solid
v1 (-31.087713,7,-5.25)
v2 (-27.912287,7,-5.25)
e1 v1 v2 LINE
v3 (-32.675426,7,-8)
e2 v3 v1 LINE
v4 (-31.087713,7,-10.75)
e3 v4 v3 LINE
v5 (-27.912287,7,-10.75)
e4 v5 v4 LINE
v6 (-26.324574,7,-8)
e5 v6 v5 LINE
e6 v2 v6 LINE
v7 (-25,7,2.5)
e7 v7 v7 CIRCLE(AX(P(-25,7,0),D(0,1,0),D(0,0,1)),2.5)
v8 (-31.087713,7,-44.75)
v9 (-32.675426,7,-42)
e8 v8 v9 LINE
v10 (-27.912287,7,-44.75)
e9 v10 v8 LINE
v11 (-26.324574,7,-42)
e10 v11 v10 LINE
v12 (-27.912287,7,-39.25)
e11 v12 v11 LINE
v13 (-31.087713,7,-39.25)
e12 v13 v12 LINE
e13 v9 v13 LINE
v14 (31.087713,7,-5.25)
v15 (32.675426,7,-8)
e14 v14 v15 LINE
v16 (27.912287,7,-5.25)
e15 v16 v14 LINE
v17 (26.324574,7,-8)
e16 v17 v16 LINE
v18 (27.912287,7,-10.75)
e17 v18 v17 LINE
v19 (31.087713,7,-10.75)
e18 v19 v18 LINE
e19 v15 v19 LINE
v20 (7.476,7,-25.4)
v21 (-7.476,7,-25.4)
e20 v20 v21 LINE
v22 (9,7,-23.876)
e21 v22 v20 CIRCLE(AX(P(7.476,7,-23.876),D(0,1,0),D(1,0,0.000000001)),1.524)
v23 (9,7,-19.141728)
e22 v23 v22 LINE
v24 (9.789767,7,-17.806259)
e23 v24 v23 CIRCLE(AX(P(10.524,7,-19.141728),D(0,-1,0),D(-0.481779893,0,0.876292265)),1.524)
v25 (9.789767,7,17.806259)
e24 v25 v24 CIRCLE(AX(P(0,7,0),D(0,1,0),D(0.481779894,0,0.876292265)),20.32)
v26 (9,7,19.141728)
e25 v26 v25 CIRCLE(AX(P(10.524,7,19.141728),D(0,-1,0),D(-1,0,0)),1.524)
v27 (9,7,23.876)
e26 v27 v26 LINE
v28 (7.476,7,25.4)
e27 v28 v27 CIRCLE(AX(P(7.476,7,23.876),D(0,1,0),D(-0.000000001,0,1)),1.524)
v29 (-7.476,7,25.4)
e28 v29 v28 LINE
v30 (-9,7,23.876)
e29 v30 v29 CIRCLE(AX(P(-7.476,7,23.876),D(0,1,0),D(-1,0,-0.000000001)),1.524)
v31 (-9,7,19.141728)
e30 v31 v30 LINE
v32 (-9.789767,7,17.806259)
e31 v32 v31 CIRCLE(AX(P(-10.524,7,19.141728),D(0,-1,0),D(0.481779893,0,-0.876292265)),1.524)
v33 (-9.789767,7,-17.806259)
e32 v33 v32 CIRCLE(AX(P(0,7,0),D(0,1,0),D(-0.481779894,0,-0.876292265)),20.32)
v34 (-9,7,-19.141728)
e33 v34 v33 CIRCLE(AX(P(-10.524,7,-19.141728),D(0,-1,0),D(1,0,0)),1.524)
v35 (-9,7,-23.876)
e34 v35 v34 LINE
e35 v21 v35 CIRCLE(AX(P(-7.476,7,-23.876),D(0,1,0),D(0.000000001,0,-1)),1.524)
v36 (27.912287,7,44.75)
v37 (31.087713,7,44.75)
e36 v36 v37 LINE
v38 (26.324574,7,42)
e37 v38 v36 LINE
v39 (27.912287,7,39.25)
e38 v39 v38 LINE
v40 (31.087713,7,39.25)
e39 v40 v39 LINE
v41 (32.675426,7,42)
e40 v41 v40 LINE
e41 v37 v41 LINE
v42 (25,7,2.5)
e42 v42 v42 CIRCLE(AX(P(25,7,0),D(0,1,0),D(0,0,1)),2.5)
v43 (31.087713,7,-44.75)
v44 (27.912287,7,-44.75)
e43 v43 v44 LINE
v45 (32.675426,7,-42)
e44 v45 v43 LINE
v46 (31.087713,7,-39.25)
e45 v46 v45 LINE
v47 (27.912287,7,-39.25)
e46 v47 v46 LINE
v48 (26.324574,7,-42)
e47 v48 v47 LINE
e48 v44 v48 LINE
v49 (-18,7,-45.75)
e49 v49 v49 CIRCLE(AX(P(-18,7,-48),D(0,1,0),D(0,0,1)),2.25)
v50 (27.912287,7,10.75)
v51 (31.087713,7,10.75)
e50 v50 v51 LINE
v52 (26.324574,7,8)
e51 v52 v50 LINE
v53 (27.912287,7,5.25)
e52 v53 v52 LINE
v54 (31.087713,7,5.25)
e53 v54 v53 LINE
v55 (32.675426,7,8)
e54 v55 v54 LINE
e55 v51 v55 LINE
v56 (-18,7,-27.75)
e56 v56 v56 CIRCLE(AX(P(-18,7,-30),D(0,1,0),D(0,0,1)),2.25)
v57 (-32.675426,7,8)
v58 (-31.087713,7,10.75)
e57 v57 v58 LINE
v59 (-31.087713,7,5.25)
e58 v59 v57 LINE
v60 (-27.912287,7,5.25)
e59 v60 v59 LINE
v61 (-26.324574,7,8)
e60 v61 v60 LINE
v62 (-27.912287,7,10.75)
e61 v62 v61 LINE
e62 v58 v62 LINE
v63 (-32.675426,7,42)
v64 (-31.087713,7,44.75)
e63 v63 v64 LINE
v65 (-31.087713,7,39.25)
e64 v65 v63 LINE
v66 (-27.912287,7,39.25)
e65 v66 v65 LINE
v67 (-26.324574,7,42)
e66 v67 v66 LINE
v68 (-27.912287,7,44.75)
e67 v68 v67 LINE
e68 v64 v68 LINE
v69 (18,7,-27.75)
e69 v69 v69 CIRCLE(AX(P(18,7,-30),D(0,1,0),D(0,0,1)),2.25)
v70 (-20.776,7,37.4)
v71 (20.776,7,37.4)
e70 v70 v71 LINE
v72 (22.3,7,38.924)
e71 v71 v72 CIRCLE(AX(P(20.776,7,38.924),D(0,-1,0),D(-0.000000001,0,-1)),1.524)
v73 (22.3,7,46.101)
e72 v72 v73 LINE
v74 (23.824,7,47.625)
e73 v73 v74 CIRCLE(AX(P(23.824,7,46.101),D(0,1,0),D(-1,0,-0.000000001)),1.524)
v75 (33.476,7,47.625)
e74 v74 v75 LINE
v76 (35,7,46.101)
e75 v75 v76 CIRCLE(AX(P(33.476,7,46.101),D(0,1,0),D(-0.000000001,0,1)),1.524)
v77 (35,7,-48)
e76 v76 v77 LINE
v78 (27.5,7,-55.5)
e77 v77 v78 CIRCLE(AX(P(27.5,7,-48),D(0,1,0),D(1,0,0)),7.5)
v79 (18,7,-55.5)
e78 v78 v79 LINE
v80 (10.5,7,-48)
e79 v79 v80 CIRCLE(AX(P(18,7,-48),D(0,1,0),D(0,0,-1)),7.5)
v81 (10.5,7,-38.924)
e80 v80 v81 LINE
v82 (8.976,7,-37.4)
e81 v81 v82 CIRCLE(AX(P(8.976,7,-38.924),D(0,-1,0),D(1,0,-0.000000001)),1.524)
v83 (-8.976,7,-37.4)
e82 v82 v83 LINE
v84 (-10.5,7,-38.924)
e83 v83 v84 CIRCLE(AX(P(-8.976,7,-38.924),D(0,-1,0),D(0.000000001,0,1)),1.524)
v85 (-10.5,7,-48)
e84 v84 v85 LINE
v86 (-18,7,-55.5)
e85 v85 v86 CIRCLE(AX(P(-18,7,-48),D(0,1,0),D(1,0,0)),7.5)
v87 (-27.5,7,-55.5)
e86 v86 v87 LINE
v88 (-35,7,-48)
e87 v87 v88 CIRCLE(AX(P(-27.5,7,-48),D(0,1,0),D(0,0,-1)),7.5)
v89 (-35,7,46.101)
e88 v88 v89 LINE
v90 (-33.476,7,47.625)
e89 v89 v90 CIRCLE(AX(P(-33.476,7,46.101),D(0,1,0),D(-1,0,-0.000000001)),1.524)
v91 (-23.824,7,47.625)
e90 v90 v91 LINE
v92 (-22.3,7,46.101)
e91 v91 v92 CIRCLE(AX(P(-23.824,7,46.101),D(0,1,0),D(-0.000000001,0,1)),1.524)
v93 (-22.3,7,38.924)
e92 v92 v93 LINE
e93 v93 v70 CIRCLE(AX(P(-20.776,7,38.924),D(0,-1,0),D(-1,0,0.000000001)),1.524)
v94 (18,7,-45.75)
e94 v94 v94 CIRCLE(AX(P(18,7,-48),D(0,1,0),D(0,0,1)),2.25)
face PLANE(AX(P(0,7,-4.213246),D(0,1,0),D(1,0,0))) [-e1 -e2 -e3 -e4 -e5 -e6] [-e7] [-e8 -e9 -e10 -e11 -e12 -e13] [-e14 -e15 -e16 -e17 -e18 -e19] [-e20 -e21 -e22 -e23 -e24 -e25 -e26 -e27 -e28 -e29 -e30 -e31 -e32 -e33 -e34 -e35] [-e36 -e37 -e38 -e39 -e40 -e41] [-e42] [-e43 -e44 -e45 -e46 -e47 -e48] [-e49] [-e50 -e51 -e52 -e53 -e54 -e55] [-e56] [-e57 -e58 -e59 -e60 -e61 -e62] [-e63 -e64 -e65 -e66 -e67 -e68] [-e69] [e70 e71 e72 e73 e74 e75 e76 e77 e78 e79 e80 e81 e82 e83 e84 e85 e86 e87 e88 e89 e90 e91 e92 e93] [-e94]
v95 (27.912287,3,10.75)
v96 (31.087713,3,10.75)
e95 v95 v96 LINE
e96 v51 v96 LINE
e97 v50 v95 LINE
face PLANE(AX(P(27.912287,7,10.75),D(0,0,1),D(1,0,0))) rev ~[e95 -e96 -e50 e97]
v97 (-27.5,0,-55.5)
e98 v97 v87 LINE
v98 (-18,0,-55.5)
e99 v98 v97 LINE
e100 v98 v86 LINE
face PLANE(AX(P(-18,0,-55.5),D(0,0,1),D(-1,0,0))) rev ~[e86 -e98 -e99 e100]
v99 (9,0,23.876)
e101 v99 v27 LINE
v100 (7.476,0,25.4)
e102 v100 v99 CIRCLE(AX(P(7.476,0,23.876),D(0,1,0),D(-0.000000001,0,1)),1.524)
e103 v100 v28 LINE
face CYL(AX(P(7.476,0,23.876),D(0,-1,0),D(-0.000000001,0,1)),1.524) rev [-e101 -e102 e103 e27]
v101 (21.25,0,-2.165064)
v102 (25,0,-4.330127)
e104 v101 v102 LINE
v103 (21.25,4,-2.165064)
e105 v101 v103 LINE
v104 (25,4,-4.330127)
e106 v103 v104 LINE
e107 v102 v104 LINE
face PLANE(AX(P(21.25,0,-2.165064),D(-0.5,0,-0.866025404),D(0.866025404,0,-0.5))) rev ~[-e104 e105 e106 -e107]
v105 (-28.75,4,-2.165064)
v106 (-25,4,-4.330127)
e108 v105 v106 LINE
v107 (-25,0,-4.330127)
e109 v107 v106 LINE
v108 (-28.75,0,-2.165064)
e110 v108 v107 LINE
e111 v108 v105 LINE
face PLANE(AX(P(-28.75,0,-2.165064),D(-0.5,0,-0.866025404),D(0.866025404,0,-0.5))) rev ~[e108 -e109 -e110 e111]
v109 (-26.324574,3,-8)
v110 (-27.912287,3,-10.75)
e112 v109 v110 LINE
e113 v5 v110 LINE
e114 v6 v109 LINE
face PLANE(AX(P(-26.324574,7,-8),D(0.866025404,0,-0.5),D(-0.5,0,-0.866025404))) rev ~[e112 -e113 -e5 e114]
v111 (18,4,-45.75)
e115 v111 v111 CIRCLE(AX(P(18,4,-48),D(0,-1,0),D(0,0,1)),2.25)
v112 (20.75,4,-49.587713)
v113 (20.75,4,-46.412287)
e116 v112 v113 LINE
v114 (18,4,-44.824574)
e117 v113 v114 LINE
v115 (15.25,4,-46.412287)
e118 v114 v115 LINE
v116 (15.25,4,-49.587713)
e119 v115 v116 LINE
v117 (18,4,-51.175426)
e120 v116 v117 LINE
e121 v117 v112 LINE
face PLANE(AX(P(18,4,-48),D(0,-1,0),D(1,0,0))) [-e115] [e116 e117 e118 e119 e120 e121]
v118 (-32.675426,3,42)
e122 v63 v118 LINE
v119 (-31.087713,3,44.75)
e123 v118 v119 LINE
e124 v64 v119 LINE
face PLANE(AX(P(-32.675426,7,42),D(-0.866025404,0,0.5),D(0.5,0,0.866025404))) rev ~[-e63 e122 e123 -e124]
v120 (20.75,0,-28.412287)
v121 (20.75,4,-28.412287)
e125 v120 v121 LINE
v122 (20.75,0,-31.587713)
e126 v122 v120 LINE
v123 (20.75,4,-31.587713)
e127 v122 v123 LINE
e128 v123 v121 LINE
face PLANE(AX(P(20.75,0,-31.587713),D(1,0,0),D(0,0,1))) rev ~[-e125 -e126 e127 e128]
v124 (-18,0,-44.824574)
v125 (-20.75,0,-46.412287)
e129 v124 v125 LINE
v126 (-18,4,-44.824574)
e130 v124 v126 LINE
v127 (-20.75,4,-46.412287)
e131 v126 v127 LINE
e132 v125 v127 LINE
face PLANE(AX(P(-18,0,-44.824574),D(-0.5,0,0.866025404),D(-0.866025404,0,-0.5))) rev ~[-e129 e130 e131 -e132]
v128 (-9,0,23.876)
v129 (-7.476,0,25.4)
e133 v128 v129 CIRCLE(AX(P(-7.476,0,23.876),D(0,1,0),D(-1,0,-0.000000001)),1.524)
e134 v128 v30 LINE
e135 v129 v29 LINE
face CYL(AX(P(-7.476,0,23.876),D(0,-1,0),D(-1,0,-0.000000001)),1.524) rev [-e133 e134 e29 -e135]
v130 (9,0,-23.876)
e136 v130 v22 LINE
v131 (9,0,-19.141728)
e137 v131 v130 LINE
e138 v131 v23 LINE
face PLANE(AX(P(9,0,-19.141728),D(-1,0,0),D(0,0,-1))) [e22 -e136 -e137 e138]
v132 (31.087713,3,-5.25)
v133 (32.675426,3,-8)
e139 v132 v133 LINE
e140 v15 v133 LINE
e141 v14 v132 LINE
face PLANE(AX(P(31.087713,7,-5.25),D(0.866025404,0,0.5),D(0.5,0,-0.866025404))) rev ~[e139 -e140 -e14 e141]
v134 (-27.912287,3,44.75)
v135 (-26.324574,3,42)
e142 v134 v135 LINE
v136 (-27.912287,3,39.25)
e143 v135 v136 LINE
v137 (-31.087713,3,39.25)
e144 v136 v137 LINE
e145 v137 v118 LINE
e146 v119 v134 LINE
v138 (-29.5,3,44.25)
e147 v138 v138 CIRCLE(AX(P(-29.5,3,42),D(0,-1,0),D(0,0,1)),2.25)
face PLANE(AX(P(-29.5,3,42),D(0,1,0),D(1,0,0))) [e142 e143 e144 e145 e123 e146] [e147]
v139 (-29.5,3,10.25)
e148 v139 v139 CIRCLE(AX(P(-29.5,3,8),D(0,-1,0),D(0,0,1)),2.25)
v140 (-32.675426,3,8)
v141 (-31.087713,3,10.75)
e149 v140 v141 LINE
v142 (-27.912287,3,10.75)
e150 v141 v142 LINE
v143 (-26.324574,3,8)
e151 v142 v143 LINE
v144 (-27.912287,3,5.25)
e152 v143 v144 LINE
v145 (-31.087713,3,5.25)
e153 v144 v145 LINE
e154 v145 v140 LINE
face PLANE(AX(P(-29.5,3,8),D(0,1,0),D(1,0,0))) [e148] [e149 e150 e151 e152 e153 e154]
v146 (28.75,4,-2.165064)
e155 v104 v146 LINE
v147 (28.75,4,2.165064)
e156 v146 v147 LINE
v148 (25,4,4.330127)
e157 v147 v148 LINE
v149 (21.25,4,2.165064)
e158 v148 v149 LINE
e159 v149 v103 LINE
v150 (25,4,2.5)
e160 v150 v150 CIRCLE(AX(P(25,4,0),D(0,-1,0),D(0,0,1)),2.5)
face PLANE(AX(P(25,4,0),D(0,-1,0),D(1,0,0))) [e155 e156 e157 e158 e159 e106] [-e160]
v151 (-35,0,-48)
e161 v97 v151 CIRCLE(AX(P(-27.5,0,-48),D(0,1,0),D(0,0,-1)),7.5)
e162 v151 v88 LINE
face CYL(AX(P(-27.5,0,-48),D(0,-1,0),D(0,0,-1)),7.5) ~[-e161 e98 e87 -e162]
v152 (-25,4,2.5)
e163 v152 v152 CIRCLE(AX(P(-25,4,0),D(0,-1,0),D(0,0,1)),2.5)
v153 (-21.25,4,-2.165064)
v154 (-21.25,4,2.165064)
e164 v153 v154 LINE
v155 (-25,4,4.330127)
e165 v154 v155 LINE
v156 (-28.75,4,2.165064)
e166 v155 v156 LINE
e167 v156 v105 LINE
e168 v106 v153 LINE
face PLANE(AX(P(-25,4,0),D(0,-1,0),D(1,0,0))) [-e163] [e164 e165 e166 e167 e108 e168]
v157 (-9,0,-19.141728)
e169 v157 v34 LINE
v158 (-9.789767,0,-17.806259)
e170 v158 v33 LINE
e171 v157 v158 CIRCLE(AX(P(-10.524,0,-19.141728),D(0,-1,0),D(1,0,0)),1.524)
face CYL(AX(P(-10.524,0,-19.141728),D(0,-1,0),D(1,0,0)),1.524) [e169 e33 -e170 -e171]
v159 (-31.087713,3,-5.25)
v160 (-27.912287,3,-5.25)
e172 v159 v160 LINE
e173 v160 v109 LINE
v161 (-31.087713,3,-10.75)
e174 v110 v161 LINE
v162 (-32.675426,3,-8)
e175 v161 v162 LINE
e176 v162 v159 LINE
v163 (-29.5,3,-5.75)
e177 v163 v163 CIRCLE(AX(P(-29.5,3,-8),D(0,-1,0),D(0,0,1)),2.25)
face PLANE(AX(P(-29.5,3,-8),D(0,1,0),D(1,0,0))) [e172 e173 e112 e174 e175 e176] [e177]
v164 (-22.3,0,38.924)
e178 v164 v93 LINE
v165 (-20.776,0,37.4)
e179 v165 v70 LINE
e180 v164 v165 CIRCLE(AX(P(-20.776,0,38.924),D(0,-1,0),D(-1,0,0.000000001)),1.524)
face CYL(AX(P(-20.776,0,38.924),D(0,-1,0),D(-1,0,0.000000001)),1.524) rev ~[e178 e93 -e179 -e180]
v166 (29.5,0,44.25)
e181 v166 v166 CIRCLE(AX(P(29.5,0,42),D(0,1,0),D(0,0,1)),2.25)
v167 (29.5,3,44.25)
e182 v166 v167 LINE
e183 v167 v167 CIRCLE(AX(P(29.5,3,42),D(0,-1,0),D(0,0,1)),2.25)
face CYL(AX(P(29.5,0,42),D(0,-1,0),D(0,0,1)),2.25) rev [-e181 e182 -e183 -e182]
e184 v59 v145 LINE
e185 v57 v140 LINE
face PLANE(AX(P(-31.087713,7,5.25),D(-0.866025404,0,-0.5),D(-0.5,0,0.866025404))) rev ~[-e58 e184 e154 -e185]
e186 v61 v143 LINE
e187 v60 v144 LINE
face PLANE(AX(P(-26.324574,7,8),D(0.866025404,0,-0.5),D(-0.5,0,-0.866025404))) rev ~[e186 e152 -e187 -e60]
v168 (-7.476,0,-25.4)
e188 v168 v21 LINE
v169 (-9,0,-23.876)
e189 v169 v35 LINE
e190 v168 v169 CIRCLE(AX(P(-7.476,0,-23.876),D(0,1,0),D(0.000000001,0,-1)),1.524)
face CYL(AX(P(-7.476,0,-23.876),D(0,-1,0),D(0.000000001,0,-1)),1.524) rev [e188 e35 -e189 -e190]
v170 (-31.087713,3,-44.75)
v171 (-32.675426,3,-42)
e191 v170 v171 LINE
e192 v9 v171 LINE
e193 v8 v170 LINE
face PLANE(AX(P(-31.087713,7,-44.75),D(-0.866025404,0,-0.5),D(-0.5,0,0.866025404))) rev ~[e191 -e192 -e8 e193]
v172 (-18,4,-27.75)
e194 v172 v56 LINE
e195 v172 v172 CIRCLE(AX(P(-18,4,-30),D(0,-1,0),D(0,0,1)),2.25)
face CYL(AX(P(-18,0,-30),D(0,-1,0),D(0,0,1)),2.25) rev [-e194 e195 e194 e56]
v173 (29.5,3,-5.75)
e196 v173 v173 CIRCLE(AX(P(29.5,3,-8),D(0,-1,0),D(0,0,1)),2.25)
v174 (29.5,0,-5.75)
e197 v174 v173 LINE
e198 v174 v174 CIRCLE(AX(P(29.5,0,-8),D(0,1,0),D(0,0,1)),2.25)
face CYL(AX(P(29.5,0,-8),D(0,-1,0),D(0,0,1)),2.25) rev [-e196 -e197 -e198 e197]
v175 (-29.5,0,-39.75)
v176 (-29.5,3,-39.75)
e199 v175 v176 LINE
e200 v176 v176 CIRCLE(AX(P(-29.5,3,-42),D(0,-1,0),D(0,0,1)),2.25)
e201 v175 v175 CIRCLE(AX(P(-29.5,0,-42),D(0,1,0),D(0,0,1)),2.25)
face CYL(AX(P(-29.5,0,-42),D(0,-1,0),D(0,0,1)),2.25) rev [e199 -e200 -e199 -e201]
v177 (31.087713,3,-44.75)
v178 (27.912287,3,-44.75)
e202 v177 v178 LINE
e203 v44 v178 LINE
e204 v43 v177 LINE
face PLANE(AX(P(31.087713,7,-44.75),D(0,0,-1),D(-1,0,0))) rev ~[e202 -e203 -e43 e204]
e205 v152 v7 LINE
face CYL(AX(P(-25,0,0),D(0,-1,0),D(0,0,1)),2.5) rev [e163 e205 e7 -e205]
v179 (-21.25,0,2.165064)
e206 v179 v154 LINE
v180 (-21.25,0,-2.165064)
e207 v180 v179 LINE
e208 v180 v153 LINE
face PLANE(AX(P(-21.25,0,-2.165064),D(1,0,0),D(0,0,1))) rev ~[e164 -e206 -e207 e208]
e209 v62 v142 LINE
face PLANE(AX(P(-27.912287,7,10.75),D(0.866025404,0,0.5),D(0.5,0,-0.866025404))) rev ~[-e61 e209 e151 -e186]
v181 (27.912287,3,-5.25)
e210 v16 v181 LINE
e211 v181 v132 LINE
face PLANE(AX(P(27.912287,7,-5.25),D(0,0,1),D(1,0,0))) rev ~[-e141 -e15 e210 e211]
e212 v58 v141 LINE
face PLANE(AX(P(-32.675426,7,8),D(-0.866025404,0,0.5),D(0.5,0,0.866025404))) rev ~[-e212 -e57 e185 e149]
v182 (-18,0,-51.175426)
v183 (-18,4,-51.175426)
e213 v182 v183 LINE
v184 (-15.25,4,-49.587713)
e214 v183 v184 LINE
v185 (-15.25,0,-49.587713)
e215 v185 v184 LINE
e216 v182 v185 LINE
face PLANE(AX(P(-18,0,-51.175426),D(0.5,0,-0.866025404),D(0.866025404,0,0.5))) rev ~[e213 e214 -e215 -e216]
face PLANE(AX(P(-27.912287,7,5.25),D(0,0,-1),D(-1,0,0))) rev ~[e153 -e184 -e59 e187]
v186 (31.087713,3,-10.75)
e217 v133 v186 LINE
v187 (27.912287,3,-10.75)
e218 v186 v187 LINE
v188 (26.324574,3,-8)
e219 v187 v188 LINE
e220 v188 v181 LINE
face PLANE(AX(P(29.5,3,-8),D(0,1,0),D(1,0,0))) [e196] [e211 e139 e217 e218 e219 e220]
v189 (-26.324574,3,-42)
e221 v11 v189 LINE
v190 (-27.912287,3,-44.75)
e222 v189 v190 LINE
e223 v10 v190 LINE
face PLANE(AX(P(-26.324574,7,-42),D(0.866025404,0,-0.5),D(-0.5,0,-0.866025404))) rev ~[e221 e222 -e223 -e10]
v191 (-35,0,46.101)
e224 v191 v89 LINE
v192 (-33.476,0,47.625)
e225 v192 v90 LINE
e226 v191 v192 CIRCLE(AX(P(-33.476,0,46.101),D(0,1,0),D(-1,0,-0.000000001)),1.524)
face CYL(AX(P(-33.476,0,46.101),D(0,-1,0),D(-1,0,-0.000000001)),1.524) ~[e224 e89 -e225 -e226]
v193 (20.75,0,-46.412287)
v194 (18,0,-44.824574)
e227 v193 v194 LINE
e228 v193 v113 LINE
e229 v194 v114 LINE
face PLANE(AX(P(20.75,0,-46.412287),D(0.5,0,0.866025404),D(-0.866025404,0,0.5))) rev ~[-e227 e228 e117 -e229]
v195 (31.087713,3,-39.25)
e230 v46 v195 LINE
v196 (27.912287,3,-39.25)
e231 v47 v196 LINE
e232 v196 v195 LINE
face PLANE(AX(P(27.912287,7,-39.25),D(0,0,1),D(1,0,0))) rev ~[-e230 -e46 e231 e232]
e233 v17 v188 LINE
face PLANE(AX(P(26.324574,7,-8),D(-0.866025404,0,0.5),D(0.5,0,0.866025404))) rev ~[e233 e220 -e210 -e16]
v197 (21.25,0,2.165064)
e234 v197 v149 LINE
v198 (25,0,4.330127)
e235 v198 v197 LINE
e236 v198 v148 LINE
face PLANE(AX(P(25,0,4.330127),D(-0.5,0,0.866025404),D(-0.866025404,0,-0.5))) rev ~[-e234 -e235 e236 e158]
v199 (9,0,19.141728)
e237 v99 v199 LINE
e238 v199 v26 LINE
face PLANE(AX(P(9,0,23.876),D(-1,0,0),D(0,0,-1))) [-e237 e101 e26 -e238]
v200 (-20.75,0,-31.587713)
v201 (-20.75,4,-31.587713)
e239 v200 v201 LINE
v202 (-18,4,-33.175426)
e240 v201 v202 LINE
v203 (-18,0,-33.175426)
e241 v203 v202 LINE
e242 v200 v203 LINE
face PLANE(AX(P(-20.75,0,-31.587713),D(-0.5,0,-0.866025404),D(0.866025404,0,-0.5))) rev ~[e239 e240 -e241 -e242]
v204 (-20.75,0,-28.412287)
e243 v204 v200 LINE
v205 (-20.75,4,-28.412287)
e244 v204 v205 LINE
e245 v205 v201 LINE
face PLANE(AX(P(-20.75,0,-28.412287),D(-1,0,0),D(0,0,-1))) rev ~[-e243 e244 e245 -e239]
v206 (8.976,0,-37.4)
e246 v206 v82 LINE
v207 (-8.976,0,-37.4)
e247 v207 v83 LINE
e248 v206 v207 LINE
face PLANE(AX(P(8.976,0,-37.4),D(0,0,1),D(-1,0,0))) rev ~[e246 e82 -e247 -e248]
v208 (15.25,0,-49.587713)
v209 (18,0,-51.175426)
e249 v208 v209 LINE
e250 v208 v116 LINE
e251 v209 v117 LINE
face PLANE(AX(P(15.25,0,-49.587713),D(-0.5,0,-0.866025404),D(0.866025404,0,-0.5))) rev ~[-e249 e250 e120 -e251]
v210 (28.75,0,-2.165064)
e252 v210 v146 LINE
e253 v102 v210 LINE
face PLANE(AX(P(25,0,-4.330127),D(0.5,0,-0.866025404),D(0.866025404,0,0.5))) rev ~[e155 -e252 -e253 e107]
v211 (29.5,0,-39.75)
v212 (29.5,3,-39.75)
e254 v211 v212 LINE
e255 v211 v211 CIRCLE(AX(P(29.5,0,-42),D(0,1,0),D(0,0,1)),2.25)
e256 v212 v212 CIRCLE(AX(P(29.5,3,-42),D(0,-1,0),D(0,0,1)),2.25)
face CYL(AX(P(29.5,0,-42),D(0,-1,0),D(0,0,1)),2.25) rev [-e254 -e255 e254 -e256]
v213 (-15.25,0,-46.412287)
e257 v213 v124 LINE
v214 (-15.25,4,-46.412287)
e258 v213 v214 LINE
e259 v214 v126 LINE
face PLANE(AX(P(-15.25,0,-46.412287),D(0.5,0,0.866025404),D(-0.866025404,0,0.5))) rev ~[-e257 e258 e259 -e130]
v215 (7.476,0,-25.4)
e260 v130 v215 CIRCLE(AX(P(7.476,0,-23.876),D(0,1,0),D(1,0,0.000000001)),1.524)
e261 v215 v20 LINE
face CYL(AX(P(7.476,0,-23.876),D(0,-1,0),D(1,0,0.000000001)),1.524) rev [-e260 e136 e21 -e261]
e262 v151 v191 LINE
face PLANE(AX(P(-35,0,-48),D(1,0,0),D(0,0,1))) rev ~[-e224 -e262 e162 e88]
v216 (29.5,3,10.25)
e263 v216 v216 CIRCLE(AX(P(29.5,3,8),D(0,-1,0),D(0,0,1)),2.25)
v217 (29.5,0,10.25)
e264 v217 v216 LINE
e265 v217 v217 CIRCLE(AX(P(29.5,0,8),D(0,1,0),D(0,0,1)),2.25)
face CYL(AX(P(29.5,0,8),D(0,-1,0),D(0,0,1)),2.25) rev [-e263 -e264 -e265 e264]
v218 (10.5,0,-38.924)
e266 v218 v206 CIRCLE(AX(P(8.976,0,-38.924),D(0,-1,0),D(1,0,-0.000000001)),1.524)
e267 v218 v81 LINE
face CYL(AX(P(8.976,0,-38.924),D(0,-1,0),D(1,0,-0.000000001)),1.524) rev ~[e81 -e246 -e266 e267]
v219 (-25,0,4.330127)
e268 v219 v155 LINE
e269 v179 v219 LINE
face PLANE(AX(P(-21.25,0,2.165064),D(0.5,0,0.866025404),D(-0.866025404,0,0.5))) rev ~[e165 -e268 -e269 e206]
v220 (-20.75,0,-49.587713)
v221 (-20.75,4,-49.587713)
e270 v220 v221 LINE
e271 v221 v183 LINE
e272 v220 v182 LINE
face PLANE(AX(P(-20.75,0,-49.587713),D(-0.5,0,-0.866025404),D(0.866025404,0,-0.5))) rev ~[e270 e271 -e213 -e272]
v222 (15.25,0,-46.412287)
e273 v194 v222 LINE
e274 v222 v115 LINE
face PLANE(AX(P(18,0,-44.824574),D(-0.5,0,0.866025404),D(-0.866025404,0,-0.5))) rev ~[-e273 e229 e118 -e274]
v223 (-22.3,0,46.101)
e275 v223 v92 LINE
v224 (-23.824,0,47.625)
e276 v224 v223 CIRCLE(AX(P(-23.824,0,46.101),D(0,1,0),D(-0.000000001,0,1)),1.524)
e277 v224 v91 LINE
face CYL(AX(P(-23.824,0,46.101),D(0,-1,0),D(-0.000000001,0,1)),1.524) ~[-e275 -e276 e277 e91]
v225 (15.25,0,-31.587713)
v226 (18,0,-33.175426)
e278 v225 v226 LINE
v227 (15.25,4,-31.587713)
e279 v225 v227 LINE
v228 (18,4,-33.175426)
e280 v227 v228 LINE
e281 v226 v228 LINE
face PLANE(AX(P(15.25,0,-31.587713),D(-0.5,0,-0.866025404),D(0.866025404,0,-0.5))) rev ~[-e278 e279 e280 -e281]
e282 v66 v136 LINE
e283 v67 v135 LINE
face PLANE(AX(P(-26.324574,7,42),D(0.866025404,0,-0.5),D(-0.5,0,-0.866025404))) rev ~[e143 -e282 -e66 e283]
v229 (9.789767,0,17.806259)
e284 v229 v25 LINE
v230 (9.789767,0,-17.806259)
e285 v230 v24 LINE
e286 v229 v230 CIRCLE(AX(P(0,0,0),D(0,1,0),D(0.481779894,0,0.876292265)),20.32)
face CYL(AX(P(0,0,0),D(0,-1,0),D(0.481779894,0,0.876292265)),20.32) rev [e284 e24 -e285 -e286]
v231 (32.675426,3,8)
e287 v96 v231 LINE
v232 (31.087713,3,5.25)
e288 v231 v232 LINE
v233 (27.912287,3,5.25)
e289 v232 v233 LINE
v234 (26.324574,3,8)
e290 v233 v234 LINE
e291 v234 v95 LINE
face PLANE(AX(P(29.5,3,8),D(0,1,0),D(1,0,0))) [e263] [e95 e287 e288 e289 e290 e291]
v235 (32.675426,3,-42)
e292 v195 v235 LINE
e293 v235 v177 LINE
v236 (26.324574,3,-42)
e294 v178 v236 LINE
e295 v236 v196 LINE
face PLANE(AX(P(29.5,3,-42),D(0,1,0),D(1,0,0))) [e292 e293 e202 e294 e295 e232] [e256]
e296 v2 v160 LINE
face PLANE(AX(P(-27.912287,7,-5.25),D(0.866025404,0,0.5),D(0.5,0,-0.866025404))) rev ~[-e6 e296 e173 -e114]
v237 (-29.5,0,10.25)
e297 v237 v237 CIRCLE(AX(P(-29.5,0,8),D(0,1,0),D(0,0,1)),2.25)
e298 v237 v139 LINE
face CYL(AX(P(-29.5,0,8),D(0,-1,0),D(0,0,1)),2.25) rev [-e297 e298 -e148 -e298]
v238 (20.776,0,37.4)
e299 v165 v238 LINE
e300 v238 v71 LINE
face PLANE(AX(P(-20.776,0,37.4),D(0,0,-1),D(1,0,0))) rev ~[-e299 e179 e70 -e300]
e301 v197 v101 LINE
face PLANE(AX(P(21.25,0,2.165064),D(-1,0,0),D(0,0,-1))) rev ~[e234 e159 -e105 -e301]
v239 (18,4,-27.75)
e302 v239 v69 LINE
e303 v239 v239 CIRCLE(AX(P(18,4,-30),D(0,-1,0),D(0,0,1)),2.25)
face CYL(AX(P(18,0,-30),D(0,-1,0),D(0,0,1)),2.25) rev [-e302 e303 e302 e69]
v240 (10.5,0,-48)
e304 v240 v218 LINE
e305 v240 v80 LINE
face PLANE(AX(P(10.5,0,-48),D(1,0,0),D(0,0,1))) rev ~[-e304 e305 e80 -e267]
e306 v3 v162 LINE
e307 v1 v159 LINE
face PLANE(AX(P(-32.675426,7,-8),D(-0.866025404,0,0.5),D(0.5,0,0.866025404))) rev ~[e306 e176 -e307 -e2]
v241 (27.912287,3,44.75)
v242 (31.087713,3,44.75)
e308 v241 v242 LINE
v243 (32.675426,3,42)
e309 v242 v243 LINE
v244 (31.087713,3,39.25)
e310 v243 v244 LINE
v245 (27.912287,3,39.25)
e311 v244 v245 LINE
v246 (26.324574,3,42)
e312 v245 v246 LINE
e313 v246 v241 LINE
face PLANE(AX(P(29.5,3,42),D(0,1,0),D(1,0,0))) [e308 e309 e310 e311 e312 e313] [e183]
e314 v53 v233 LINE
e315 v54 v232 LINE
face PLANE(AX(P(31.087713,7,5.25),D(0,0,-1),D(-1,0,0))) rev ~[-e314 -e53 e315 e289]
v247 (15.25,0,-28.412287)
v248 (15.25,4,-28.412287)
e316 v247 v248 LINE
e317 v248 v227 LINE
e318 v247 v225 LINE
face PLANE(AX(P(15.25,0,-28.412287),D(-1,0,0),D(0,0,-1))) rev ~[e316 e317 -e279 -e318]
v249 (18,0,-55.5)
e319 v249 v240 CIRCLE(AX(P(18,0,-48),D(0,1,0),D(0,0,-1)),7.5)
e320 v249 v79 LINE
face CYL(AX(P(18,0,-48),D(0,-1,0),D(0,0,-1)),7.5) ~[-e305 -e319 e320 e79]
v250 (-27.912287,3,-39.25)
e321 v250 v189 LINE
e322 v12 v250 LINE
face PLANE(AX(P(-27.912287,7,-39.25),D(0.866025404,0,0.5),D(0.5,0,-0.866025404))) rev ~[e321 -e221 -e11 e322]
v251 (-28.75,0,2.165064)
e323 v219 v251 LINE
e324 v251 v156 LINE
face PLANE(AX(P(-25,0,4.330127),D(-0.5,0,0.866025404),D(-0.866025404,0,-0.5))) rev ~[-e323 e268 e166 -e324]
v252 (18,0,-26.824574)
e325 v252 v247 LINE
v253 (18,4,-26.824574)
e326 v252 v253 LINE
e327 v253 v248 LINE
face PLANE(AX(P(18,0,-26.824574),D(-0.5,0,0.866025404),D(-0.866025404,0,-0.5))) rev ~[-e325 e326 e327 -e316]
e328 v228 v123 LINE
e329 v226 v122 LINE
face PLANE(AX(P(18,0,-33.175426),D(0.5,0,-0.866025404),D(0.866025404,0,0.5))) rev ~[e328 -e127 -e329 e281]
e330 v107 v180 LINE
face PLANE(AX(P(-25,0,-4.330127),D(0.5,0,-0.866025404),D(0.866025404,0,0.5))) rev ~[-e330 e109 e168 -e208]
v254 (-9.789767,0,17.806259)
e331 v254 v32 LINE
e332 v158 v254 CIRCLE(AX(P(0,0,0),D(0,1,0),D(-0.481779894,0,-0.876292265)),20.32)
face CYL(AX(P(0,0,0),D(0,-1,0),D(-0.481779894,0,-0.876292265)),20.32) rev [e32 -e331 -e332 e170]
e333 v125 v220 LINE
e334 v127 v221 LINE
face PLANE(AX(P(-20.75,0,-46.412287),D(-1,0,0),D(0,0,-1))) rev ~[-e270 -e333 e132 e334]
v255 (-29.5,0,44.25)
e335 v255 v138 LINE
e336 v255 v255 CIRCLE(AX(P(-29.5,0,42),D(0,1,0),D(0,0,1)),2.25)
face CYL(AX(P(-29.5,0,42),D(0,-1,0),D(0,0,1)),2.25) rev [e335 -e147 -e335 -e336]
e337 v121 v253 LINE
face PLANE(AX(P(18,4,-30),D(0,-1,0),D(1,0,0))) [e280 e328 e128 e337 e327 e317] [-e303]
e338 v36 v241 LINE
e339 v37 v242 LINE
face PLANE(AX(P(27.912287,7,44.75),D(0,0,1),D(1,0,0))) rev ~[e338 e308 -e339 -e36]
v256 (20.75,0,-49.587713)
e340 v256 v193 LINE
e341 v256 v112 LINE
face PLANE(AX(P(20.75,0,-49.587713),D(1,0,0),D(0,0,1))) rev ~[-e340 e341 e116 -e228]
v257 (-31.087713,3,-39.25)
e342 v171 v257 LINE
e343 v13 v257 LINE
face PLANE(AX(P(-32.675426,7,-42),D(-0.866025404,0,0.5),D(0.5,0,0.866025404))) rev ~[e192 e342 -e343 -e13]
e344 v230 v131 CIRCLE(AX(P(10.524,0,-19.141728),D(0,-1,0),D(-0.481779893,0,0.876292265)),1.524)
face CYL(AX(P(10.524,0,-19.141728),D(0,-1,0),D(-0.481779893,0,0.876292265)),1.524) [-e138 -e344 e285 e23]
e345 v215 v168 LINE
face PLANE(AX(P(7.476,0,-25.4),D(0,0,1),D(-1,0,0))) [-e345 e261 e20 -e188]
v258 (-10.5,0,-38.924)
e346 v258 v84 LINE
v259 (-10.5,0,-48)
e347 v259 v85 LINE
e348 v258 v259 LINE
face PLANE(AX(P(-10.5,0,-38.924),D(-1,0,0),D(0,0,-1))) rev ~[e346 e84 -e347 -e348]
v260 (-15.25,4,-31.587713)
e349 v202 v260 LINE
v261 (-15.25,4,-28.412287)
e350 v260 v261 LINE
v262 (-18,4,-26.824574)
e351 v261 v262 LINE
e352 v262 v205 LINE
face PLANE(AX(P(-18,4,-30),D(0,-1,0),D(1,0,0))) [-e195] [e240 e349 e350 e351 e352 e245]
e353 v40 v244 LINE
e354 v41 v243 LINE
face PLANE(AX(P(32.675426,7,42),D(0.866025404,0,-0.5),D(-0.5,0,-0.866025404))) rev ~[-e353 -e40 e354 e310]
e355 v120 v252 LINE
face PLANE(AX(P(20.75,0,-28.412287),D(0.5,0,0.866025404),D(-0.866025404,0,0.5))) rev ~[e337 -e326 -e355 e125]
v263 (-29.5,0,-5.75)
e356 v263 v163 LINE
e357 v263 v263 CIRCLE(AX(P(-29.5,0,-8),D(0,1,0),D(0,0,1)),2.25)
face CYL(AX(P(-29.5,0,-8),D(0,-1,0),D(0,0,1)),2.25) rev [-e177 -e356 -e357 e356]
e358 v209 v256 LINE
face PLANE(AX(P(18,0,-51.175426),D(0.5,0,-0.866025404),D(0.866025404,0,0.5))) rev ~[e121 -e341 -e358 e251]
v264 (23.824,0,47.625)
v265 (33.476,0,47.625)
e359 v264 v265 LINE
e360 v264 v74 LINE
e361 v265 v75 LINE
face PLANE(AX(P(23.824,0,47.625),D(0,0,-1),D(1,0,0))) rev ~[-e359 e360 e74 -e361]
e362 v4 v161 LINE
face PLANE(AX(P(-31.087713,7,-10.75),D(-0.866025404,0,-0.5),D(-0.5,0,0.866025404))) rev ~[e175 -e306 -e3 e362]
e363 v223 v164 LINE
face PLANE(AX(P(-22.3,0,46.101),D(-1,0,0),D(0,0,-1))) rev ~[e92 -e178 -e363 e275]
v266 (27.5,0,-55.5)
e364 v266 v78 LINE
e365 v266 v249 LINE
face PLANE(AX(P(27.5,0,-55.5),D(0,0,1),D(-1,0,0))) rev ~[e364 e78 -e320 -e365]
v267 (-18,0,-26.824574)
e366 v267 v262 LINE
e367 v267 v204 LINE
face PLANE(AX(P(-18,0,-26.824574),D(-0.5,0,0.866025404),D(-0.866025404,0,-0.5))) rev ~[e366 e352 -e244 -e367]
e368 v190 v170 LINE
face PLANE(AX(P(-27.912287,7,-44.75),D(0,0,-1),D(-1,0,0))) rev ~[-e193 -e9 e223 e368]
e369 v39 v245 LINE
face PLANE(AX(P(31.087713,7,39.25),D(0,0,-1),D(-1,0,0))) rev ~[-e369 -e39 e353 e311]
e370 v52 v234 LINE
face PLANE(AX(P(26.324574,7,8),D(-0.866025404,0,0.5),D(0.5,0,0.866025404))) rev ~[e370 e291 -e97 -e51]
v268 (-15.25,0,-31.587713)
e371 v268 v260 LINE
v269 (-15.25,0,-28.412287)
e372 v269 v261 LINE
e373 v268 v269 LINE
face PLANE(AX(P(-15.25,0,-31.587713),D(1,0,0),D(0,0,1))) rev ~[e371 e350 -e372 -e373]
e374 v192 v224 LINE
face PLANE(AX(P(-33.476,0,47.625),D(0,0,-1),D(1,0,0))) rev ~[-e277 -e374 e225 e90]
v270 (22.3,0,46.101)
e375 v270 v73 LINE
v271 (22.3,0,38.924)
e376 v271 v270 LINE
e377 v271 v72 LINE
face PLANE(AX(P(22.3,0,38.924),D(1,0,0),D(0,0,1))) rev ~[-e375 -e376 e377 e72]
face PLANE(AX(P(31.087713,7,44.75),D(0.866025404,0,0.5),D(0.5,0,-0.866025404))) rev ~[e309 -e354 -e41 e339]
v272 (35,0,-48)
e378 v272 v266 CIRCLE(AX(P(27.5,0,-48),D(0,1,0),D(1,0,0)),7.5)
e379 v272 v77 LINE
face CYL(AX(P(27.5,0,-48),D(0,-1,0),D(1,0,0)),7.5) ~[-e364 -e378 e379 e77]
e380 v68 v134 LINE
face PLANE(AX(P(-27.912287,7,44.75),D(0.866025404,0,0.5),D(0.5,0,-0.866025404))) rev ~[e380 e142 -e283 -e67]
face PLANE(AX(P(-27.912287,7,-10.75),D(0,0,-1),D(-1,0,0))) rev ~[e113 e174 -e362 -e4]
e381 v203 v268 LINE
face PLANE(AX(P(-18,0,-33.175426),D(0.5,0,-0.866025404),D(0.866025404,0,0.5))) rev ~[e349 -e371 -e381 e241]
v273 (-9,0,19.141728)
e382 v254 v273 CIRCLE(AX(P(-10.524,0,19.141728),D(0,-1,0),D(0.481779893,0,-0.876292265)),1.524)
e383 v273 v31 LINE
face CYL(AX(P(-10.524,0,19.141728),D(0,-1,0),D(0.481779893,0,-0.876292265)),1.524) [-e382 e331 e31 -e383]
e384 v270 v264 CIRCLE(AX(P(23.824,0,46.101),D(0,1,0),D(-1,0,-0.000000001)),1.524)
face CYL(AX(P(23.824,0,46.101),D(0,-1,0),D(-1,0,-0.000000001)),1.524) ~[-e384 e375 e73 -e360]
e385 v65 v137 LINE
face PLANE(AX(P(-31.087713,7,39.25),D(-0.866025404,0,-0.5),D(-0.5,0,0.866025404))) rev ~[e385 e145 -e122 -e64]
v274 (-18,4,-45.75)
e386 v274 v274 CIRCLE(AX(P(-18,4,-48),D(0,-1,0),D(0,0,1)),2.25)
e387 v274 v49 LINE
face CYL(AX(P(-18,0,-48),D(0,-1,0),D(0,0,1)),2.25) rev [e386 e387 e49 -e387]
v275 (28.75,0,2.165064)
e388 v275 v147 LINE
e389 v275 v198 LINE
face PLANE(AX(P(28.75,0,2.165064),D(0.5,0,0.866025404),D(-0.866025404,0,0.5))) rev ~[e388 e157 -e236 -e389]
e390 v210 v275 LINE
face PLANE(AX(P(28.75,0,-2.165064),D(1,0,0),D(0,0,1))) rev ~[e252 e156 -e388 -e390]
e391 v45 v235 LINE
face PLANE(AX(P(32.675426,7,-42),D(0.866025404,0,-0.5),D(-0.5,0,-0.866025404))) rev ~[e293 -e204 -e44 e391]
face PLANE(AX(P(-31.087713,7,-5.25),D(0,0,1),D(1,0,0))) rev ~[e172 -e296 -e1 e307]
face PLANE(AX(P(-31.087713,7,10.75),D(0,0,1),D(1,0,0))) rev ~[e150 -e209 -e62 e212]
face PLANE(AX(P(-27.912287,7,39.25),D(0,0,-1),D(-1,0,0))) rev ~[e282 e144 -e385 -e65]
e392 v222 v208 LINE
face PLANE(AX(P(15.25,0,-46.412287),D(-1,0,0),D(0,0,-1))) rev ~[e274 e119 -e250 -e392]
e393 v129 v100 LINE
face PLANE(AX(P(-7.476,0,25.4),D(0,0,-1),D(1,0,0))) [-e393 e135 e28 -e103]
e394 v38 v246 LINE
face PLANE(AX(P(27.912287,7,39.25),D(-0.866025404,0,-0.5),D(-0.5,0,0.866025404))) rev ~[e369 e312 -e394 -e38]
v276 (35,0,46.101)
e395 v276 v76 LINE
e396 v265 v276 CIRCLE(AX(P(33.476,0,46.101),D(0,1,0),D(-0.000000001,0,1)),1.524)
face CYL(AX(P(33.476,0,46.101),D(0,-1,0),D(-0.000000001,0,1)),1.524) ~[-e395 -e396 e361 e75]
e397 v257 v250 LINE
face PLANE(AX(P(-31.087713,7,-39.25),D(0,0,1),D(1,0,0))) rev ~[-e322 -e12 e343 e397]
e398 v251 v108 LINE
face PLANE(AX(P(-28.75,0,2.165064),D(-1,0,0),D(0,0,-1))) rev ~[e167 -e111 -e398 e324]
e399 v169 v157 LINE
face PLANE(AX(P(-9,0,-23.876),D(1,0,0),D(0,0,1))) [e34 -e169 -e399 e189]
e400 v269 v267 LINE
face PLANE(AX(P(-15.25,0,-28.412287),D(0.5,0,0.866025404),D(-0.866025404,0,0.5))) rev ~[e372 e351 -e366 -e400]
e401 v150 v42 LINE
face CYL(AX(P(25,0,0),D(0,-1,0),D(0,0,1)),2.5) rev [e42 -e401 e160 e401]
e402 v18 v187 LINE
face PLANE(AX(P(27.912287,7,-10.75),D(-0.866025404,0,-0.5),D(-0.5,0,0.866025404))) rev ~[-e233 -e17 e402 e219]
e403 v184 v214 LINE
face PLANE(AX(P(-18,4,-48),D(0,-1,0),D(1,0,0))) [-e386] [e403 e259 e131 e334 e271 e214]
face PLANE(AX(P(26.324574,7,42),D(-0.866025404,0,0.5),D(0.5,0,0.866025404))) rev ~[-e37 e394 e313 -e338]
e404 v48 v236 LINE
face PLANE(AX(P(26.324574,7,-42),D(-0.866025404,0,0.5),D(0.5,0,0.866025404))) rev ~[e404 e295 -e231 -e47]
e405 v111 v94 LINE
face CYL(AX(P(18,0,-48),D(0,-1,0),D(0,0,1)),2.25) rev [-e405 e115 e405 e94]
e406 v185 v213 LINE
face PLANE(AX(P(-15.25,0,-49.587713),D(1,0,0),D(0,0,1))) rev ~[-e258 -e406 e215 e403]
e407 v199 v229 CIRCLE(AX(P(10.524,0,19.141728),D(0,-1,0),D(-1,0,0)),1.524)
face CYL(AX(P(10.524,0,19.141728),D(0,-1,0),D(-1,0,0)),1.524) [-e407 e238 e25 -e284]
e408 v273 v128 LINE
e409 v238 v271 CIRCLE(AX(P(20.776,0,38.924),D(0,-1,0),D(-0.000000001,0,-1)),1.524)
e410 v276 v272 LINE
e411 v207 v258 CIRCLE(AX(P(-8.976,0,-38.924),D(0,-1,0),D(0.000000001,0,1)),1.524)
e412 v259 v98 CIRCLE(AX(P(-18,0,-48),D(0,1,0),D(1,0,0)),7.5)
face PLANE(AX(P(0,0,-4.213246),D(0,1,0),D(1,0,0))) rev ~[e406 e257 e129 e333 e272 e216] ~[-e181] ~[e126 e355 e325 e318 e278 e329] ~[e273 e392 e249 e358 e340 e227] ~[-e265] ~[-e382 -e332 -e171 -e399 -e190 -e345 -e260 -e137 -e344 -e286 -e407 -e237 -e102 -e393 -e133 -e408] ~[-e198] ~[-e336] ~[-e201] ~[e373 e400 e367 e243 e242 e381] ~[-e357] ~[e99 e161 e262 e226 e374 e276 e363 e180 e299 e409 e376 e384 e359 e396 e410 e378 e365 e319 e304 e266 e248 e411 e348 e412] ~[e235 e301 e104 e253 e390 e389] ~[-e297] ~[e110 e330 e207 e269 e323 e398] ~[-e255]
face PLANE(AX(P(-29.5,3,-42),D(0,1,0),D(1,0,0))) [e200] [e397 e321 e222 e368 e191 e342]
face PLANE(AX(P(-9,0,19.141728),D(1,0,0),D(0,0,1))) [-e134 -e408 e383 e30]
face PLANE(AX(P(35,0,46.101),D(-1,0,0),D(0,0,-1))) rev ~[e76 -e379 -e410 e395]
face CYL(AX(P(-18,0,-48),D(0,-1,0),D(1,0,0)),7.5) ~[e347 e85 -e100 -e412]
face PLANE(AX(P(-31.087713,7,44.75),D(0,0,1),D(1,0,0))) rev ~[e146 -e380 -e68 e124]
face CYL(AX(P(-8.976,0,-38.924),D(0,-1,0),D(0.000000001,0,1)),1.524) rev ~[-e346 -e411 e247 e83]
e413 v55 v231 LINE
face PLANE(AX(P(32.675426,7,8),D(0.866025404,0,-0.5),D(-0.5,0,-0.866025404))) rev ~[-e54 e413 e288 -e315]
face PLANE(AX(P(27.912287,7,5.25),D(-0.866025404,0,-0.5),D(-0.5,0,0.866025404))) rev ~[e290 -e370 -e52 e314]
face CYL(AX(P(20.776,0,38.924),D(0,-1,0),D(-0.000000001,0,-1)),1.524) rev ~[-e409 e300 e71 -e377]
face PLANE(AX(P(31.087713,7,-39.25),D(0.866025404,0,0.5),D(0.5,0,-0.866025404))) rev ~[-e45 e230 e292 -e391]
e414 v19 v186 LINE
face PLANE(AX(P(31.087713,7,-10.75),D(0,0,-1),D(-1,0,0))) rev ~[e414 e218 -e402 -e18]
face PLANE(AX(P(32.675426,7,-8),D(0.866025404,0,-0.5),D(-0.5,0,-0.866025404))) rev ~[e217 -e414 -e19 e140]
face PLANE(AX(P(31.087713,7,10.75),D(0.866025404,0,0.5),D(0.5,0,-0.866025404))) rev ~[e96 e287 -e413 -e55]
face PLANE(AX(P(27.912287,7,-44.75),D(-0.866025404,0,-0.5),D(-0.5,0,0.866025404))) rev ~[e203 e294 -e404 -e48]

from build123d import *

# Parameters (mm, degrees)
SKETCH1_R           = 2.25
SKETCH1_R_2         = 2.5
BOSS_EXTRUDE1_DEPTH = 7
CUT_EXTRUDE1_DEPTH  = 4
CUT_EXTRUDE2_DEPTH  = 4
CUT_EXTRUDE3_DEPTH  = 4


with BuildPart() as part:
    # Sketch1 → Boss-Extrude1 (new body)
    with BuildSketch(Plane(origin=(0, 0, 0), x_dir=(1, 0, 0), z_dir=(0, 1, 0))):
        with BuildLine():
            Line((-35, 48), (-35, -46.101))
            ThreePointArc((-35, -46.101), (-34.553630735, -47.178630735), (-33.476, -47.625))
            Line((-33.476, -47.625), (-23.824, -47.625))
            ThreePointArc((-23.824, -47.625), (-22.746369265, -47.178630735), (-22.3, -46.101))
            Line((-22.3, -46.101), (-22.3, -38.924))
            ThreePointArc((-22.3, -38.924), (-21.853630735, -37.846369265), (-20.776, -37.4))
            Line((-20.776, -37.4), (20.776, -37.4))
            ThreePointArc((20.776, -37.4), (21.853630735, -37.846369265), (22.3, -38.924))
            Line((22.3, -38.924), (22.3, -46.101))
            ThreePointArc((22.3, -46.101), (22.746369265, -47.178630735), (23.824, -47.625))
            Line((23.824, -47.625), (33.476, -47.625))
            ThreePointArc((33.476, -47.625), (34.553630735, -47.178630735), (35, -46.101))
            Line((35, -46.101), (35, 48))
            ThreePointArc((35, 48), (32.803300859, 53.303300859), (27.5, 55.5))
            Line((27.5, 55.5), (18, 55.5))
            ThreePointArc((18, 55.5), (12.696699141, 53.303300859), (10.5, 48))
            Line((10.5, 48), (10.5, 38.924))
            ThreePointArc((10.5, 38.924), (10.053630735, 37.846369265), (8.976, 37.4))
            Line((8.976, 37.4), (-8.976, 37.4))
            ThreePointArc((-8.976, 37.4), (-10.053630735, 37.846369265), (-10.5, 38.924))
            Line((-10.5, 38.924), (-10.5, 48))
            ThreePointArc((-10.5, 48), (-12.696699141, 53.303300859), (-18, 55.5))
            Line((-18, 55.5), (-27.5, 55.5))
            ThreePointArc((-27.5, 55.5), (-32.803300859, 53.303300859), (-35, 48))
        make_face()
        with Locations(Location((-18, 48, 0), (0, 0, 270))):  # turned: the seam where the file's is
            Circle(SKETCH1_R, mode=Mode.SUBTRACT)
        with Locations(Location((18, 48, 0), (0, 0, 270))):  # turned: the seam where the file's is
            Circle(SKETCH1_R, mode=Mode.SUBTRACT)
        with Locations(Location((-18, 30, 0), (0, 0, 270))):  # turned: the seam where the file's is
            Circle(SKETCH1_R, mode=Mode.SUBTRACT)
        with Locations(Location((18, 30, 0), (0, 0, 270))):  # turned: the seam where the file's is
            Circle(SKETCH1_R, mode=Mode.SUBTRACT)
        with Locations(Location((-29.5, 42, 0), (0, 0, 270))):  # turned: the seam where the file's is
            Circle(SKETCH1_R, mode=Mode.SUBTRACT)
        with Locations(Location((-29.5, 8, 0), (0, 0, 270))):  # turned: the seam where the file's is
            Circle(SKETCH1_R, mode=Mode.SUBTRACT)
        with Locations(Location((-29.5, -8, 0), (0, 0, 270))):  # turned: the seam where the file's is
            Circle(SKETCH1_R, mode=Mode.SUBTRACT)
        with Locations(Location((-29.5, -42, 0), (0, 0, 270))):  # turned: the seam where the file's is
            Circle(SKETCH1_R, mode=Mode.SUBTRACT)
        with Locations(Location((29.5, -8, 0), (0, 0, 270))):  # turned: the seam where the file's is
            Circle(SKETCH1_R, mode=Mode.SUBTRACT)
        with Locations(Location((29.5, -42, 0), (0, 0, 270))):  # turned: the seam where the file's is
            Circle(SKETCH1_R, mode=Mode.SUBTRACT)
        with Locations(Location((29.5, 42, 0), (0, 0, 270))):  # turned: the seam where the file's is
            Circle(SKETCH1_R, mode=Mode.SUBTRACT)
        with Locations(Location((29.5, 8, 0), (0, 0, 270))):  # turned: the seam where the file's is
            Circle(SKETCH1_R, mode=Mode.SUBTRACT)
        with Locations(Location((-25, 0, 0), (0, 0, 270))):  # turned: the seam where the file's is
            Circle(SKETCH1_R_2, mode=Mode.SUBTRACT)
        with Locations(Location((25, 0, 0), (0, 0, 270))):  # turned: the seam where the file's is
            Circle(SKETCH1_R_2, mode=Mode.SUBTRACT)
        with BuildLine():
            Line((-9, -19.14172824), (-9, -23.876))
            ThreePointArc((-9, -23.876), (-8.553630735, -24.953630735), (-7.476, -25.4))
            Line((-7.476, -25.4), (7.476, -25.4))
            ThreePointArc((7.476, -25.4), (8.553630735, -24.953630735), (9, -23.876))
            Line((9, -23.876), (9, -19.14172824))
            ThreePointArc((9, -19.14172824), (9.212217545, -18.365968747), (9.789767442, -17.806258828))
            ThreePointArc((9.789767442, -17.806258828), (20.32, 0), (9.789767442, 17.806258828))
            ThreePointArc((9.789767442, 17.806258828), (9.212217545, 18.365968747), (9, 19.14172824))
            Line((9, 19.14172824), (9, 23.876))
            ThreePointArc((9, 23.876), (8.553630735, 24.953630735), (7.476, 25.4))
            Line((7.476, 25.4), (-7.476, 25.4))
            ThreePointArc((-7.476, 25.4), (-8.553630735, 24.953630735), (-9, 23.876))
            Line((-9, 23.876), (-9, 19.14172824))
            ThreePointArc((-9, 19.14172824), (-9.212217545, 18.365968747), (-9.789767442, 17.806258828))
            ThreePointArc((-9.789767442, 17.806258828), (-20.32, 0), (-9.789767442, -17.806258828))
            ThreePointArc((-9.789767442, -17.806258828), (-9.212217545, -18.365968747), (-9, -19.14172824))
        make_face(mode=Mode.SUBTRACT)
    extrude(amount=BOSS_EXTRUDE1_DEPTH)

    # Sketch2 → Cut-Extrude1 (cut)
    with BuildSketch(Plane(origin=(0, 7, 0), x_dir=(1, 0, 0), z_dir=(0, 1, 0))):
        Polygon((-26.324573519, 42), (-27.91228676, 44.75), (-31.08771324, 44.75), (-32.675426481, 42), (-31.08771324, 39.25), (-27.91228676, 39.25), align=None)
        Polygon((26.324573519, 42), (27.91228676, 39.25), (31.08771324, 39.25), (32.675426481, 42), (31.08771324, 44.75), (27.91228676, 44.75), align=None)
        Polygon((26.324573519, 8), (27.91228676, 5.25), (31.08771324, 5.25), (32.675426481, 8), (31.08771324, 10.75), (27.91228676, 10.75), align=None)
        Polygon((26.324573519, -8), (27.91228676, -10.75), (31.08771324, -10.75), (32.675426481, -8), (31.08771324, -5.25), (27.91228676, -5.25), align=None)
        Polygon((26.324573519, -42), (27.91228676, -44.75), (31.08771324, -44.75), (32.675426481, -42), (31.08771324, -39.25), (27.91228676, -39.25), align=None)
        Polygon((-26.324573519, -42), (-27.91228676, -39.25), (-31.08771324, -39.25), (-32.675426481, -42), (-31.08771324, -44.75), (-27.91228676, -44.75), align=None)
        Polygon((-26.324573519, -8), (-27.91228676, -5.25), (-31.08771324, -5.25), (-32.675426481, -8), (-31.08771324, -10.75), (-27.91228676, -10.75), align=None)
        Polygon((-26.324573519, 8), (-27.91228676, 10.75), (-31.08771324, 10.75), (-32.675426481, 8), (-31.08771324, 5.25), (-27.91228676, 5.25), align=None)
    extrude(amount=-CUT_EXTRUDE1_DEPTH, mode=Mode.SUBTRACT)

    # Sketch3 → Cut-Extrude2 (cut)
    with BuildSketch(Plane.XZ):
        Polygon((-18, -33.175426481), (-15.25, -31.58771324), (-15.25, -28.41228676), (-18, -26.824573519), (-20.75, -28.41228676), (-20.75, -31.58771324), align=None)
        Polygon((-18, -51.175426481), (-15.25, -49.58771324), (-15.25, -46.41228676), (-18, -44.824573519), (-20.75, -46.41228676), (-20.75, -49.58771324), align=None)
        Polygon((18, -51.175426481), (20.75, -49.58771324), (20.75, -46.41228676), (18, -44.824573519), (15.25, -46.41228676), (15.25, -49.58771324), align=None)
        Polygon((18, -33.175426481), (20.75, -31.58771324), (20.75, -28.41228676), (18, -26.824573519), (15.25, -28.41228676), (15.25, -31.58771324), align=None)
    extrude(amount=-CUT_EXTRUDE2_DEPTH, mode=Mode.SUBTRACT)

    # Sketch4 → Cut-Extrude3 (cut)
    with BuildSketch(Plane.XZ):
        Polygon((-25, -4.330127019), (-21.25, -2.165063509), (-21.25, 2.165063509), (-25, 4.330127019), (-28.75, 2.165063509), (-28.75, -2.165063509), align=None)
        Polygon((25, -4.330127019), (28.75, -2.165063509), (28.75, 2.165063509), (25, 4.330127019), (21.25, 2.165063509), (21.25, -2.165063509), align=None)
    extrude(amount=-CUT_EXTRUDE3_DEPTH, mode=Mode.SUBTRACT)


solid = part.part
